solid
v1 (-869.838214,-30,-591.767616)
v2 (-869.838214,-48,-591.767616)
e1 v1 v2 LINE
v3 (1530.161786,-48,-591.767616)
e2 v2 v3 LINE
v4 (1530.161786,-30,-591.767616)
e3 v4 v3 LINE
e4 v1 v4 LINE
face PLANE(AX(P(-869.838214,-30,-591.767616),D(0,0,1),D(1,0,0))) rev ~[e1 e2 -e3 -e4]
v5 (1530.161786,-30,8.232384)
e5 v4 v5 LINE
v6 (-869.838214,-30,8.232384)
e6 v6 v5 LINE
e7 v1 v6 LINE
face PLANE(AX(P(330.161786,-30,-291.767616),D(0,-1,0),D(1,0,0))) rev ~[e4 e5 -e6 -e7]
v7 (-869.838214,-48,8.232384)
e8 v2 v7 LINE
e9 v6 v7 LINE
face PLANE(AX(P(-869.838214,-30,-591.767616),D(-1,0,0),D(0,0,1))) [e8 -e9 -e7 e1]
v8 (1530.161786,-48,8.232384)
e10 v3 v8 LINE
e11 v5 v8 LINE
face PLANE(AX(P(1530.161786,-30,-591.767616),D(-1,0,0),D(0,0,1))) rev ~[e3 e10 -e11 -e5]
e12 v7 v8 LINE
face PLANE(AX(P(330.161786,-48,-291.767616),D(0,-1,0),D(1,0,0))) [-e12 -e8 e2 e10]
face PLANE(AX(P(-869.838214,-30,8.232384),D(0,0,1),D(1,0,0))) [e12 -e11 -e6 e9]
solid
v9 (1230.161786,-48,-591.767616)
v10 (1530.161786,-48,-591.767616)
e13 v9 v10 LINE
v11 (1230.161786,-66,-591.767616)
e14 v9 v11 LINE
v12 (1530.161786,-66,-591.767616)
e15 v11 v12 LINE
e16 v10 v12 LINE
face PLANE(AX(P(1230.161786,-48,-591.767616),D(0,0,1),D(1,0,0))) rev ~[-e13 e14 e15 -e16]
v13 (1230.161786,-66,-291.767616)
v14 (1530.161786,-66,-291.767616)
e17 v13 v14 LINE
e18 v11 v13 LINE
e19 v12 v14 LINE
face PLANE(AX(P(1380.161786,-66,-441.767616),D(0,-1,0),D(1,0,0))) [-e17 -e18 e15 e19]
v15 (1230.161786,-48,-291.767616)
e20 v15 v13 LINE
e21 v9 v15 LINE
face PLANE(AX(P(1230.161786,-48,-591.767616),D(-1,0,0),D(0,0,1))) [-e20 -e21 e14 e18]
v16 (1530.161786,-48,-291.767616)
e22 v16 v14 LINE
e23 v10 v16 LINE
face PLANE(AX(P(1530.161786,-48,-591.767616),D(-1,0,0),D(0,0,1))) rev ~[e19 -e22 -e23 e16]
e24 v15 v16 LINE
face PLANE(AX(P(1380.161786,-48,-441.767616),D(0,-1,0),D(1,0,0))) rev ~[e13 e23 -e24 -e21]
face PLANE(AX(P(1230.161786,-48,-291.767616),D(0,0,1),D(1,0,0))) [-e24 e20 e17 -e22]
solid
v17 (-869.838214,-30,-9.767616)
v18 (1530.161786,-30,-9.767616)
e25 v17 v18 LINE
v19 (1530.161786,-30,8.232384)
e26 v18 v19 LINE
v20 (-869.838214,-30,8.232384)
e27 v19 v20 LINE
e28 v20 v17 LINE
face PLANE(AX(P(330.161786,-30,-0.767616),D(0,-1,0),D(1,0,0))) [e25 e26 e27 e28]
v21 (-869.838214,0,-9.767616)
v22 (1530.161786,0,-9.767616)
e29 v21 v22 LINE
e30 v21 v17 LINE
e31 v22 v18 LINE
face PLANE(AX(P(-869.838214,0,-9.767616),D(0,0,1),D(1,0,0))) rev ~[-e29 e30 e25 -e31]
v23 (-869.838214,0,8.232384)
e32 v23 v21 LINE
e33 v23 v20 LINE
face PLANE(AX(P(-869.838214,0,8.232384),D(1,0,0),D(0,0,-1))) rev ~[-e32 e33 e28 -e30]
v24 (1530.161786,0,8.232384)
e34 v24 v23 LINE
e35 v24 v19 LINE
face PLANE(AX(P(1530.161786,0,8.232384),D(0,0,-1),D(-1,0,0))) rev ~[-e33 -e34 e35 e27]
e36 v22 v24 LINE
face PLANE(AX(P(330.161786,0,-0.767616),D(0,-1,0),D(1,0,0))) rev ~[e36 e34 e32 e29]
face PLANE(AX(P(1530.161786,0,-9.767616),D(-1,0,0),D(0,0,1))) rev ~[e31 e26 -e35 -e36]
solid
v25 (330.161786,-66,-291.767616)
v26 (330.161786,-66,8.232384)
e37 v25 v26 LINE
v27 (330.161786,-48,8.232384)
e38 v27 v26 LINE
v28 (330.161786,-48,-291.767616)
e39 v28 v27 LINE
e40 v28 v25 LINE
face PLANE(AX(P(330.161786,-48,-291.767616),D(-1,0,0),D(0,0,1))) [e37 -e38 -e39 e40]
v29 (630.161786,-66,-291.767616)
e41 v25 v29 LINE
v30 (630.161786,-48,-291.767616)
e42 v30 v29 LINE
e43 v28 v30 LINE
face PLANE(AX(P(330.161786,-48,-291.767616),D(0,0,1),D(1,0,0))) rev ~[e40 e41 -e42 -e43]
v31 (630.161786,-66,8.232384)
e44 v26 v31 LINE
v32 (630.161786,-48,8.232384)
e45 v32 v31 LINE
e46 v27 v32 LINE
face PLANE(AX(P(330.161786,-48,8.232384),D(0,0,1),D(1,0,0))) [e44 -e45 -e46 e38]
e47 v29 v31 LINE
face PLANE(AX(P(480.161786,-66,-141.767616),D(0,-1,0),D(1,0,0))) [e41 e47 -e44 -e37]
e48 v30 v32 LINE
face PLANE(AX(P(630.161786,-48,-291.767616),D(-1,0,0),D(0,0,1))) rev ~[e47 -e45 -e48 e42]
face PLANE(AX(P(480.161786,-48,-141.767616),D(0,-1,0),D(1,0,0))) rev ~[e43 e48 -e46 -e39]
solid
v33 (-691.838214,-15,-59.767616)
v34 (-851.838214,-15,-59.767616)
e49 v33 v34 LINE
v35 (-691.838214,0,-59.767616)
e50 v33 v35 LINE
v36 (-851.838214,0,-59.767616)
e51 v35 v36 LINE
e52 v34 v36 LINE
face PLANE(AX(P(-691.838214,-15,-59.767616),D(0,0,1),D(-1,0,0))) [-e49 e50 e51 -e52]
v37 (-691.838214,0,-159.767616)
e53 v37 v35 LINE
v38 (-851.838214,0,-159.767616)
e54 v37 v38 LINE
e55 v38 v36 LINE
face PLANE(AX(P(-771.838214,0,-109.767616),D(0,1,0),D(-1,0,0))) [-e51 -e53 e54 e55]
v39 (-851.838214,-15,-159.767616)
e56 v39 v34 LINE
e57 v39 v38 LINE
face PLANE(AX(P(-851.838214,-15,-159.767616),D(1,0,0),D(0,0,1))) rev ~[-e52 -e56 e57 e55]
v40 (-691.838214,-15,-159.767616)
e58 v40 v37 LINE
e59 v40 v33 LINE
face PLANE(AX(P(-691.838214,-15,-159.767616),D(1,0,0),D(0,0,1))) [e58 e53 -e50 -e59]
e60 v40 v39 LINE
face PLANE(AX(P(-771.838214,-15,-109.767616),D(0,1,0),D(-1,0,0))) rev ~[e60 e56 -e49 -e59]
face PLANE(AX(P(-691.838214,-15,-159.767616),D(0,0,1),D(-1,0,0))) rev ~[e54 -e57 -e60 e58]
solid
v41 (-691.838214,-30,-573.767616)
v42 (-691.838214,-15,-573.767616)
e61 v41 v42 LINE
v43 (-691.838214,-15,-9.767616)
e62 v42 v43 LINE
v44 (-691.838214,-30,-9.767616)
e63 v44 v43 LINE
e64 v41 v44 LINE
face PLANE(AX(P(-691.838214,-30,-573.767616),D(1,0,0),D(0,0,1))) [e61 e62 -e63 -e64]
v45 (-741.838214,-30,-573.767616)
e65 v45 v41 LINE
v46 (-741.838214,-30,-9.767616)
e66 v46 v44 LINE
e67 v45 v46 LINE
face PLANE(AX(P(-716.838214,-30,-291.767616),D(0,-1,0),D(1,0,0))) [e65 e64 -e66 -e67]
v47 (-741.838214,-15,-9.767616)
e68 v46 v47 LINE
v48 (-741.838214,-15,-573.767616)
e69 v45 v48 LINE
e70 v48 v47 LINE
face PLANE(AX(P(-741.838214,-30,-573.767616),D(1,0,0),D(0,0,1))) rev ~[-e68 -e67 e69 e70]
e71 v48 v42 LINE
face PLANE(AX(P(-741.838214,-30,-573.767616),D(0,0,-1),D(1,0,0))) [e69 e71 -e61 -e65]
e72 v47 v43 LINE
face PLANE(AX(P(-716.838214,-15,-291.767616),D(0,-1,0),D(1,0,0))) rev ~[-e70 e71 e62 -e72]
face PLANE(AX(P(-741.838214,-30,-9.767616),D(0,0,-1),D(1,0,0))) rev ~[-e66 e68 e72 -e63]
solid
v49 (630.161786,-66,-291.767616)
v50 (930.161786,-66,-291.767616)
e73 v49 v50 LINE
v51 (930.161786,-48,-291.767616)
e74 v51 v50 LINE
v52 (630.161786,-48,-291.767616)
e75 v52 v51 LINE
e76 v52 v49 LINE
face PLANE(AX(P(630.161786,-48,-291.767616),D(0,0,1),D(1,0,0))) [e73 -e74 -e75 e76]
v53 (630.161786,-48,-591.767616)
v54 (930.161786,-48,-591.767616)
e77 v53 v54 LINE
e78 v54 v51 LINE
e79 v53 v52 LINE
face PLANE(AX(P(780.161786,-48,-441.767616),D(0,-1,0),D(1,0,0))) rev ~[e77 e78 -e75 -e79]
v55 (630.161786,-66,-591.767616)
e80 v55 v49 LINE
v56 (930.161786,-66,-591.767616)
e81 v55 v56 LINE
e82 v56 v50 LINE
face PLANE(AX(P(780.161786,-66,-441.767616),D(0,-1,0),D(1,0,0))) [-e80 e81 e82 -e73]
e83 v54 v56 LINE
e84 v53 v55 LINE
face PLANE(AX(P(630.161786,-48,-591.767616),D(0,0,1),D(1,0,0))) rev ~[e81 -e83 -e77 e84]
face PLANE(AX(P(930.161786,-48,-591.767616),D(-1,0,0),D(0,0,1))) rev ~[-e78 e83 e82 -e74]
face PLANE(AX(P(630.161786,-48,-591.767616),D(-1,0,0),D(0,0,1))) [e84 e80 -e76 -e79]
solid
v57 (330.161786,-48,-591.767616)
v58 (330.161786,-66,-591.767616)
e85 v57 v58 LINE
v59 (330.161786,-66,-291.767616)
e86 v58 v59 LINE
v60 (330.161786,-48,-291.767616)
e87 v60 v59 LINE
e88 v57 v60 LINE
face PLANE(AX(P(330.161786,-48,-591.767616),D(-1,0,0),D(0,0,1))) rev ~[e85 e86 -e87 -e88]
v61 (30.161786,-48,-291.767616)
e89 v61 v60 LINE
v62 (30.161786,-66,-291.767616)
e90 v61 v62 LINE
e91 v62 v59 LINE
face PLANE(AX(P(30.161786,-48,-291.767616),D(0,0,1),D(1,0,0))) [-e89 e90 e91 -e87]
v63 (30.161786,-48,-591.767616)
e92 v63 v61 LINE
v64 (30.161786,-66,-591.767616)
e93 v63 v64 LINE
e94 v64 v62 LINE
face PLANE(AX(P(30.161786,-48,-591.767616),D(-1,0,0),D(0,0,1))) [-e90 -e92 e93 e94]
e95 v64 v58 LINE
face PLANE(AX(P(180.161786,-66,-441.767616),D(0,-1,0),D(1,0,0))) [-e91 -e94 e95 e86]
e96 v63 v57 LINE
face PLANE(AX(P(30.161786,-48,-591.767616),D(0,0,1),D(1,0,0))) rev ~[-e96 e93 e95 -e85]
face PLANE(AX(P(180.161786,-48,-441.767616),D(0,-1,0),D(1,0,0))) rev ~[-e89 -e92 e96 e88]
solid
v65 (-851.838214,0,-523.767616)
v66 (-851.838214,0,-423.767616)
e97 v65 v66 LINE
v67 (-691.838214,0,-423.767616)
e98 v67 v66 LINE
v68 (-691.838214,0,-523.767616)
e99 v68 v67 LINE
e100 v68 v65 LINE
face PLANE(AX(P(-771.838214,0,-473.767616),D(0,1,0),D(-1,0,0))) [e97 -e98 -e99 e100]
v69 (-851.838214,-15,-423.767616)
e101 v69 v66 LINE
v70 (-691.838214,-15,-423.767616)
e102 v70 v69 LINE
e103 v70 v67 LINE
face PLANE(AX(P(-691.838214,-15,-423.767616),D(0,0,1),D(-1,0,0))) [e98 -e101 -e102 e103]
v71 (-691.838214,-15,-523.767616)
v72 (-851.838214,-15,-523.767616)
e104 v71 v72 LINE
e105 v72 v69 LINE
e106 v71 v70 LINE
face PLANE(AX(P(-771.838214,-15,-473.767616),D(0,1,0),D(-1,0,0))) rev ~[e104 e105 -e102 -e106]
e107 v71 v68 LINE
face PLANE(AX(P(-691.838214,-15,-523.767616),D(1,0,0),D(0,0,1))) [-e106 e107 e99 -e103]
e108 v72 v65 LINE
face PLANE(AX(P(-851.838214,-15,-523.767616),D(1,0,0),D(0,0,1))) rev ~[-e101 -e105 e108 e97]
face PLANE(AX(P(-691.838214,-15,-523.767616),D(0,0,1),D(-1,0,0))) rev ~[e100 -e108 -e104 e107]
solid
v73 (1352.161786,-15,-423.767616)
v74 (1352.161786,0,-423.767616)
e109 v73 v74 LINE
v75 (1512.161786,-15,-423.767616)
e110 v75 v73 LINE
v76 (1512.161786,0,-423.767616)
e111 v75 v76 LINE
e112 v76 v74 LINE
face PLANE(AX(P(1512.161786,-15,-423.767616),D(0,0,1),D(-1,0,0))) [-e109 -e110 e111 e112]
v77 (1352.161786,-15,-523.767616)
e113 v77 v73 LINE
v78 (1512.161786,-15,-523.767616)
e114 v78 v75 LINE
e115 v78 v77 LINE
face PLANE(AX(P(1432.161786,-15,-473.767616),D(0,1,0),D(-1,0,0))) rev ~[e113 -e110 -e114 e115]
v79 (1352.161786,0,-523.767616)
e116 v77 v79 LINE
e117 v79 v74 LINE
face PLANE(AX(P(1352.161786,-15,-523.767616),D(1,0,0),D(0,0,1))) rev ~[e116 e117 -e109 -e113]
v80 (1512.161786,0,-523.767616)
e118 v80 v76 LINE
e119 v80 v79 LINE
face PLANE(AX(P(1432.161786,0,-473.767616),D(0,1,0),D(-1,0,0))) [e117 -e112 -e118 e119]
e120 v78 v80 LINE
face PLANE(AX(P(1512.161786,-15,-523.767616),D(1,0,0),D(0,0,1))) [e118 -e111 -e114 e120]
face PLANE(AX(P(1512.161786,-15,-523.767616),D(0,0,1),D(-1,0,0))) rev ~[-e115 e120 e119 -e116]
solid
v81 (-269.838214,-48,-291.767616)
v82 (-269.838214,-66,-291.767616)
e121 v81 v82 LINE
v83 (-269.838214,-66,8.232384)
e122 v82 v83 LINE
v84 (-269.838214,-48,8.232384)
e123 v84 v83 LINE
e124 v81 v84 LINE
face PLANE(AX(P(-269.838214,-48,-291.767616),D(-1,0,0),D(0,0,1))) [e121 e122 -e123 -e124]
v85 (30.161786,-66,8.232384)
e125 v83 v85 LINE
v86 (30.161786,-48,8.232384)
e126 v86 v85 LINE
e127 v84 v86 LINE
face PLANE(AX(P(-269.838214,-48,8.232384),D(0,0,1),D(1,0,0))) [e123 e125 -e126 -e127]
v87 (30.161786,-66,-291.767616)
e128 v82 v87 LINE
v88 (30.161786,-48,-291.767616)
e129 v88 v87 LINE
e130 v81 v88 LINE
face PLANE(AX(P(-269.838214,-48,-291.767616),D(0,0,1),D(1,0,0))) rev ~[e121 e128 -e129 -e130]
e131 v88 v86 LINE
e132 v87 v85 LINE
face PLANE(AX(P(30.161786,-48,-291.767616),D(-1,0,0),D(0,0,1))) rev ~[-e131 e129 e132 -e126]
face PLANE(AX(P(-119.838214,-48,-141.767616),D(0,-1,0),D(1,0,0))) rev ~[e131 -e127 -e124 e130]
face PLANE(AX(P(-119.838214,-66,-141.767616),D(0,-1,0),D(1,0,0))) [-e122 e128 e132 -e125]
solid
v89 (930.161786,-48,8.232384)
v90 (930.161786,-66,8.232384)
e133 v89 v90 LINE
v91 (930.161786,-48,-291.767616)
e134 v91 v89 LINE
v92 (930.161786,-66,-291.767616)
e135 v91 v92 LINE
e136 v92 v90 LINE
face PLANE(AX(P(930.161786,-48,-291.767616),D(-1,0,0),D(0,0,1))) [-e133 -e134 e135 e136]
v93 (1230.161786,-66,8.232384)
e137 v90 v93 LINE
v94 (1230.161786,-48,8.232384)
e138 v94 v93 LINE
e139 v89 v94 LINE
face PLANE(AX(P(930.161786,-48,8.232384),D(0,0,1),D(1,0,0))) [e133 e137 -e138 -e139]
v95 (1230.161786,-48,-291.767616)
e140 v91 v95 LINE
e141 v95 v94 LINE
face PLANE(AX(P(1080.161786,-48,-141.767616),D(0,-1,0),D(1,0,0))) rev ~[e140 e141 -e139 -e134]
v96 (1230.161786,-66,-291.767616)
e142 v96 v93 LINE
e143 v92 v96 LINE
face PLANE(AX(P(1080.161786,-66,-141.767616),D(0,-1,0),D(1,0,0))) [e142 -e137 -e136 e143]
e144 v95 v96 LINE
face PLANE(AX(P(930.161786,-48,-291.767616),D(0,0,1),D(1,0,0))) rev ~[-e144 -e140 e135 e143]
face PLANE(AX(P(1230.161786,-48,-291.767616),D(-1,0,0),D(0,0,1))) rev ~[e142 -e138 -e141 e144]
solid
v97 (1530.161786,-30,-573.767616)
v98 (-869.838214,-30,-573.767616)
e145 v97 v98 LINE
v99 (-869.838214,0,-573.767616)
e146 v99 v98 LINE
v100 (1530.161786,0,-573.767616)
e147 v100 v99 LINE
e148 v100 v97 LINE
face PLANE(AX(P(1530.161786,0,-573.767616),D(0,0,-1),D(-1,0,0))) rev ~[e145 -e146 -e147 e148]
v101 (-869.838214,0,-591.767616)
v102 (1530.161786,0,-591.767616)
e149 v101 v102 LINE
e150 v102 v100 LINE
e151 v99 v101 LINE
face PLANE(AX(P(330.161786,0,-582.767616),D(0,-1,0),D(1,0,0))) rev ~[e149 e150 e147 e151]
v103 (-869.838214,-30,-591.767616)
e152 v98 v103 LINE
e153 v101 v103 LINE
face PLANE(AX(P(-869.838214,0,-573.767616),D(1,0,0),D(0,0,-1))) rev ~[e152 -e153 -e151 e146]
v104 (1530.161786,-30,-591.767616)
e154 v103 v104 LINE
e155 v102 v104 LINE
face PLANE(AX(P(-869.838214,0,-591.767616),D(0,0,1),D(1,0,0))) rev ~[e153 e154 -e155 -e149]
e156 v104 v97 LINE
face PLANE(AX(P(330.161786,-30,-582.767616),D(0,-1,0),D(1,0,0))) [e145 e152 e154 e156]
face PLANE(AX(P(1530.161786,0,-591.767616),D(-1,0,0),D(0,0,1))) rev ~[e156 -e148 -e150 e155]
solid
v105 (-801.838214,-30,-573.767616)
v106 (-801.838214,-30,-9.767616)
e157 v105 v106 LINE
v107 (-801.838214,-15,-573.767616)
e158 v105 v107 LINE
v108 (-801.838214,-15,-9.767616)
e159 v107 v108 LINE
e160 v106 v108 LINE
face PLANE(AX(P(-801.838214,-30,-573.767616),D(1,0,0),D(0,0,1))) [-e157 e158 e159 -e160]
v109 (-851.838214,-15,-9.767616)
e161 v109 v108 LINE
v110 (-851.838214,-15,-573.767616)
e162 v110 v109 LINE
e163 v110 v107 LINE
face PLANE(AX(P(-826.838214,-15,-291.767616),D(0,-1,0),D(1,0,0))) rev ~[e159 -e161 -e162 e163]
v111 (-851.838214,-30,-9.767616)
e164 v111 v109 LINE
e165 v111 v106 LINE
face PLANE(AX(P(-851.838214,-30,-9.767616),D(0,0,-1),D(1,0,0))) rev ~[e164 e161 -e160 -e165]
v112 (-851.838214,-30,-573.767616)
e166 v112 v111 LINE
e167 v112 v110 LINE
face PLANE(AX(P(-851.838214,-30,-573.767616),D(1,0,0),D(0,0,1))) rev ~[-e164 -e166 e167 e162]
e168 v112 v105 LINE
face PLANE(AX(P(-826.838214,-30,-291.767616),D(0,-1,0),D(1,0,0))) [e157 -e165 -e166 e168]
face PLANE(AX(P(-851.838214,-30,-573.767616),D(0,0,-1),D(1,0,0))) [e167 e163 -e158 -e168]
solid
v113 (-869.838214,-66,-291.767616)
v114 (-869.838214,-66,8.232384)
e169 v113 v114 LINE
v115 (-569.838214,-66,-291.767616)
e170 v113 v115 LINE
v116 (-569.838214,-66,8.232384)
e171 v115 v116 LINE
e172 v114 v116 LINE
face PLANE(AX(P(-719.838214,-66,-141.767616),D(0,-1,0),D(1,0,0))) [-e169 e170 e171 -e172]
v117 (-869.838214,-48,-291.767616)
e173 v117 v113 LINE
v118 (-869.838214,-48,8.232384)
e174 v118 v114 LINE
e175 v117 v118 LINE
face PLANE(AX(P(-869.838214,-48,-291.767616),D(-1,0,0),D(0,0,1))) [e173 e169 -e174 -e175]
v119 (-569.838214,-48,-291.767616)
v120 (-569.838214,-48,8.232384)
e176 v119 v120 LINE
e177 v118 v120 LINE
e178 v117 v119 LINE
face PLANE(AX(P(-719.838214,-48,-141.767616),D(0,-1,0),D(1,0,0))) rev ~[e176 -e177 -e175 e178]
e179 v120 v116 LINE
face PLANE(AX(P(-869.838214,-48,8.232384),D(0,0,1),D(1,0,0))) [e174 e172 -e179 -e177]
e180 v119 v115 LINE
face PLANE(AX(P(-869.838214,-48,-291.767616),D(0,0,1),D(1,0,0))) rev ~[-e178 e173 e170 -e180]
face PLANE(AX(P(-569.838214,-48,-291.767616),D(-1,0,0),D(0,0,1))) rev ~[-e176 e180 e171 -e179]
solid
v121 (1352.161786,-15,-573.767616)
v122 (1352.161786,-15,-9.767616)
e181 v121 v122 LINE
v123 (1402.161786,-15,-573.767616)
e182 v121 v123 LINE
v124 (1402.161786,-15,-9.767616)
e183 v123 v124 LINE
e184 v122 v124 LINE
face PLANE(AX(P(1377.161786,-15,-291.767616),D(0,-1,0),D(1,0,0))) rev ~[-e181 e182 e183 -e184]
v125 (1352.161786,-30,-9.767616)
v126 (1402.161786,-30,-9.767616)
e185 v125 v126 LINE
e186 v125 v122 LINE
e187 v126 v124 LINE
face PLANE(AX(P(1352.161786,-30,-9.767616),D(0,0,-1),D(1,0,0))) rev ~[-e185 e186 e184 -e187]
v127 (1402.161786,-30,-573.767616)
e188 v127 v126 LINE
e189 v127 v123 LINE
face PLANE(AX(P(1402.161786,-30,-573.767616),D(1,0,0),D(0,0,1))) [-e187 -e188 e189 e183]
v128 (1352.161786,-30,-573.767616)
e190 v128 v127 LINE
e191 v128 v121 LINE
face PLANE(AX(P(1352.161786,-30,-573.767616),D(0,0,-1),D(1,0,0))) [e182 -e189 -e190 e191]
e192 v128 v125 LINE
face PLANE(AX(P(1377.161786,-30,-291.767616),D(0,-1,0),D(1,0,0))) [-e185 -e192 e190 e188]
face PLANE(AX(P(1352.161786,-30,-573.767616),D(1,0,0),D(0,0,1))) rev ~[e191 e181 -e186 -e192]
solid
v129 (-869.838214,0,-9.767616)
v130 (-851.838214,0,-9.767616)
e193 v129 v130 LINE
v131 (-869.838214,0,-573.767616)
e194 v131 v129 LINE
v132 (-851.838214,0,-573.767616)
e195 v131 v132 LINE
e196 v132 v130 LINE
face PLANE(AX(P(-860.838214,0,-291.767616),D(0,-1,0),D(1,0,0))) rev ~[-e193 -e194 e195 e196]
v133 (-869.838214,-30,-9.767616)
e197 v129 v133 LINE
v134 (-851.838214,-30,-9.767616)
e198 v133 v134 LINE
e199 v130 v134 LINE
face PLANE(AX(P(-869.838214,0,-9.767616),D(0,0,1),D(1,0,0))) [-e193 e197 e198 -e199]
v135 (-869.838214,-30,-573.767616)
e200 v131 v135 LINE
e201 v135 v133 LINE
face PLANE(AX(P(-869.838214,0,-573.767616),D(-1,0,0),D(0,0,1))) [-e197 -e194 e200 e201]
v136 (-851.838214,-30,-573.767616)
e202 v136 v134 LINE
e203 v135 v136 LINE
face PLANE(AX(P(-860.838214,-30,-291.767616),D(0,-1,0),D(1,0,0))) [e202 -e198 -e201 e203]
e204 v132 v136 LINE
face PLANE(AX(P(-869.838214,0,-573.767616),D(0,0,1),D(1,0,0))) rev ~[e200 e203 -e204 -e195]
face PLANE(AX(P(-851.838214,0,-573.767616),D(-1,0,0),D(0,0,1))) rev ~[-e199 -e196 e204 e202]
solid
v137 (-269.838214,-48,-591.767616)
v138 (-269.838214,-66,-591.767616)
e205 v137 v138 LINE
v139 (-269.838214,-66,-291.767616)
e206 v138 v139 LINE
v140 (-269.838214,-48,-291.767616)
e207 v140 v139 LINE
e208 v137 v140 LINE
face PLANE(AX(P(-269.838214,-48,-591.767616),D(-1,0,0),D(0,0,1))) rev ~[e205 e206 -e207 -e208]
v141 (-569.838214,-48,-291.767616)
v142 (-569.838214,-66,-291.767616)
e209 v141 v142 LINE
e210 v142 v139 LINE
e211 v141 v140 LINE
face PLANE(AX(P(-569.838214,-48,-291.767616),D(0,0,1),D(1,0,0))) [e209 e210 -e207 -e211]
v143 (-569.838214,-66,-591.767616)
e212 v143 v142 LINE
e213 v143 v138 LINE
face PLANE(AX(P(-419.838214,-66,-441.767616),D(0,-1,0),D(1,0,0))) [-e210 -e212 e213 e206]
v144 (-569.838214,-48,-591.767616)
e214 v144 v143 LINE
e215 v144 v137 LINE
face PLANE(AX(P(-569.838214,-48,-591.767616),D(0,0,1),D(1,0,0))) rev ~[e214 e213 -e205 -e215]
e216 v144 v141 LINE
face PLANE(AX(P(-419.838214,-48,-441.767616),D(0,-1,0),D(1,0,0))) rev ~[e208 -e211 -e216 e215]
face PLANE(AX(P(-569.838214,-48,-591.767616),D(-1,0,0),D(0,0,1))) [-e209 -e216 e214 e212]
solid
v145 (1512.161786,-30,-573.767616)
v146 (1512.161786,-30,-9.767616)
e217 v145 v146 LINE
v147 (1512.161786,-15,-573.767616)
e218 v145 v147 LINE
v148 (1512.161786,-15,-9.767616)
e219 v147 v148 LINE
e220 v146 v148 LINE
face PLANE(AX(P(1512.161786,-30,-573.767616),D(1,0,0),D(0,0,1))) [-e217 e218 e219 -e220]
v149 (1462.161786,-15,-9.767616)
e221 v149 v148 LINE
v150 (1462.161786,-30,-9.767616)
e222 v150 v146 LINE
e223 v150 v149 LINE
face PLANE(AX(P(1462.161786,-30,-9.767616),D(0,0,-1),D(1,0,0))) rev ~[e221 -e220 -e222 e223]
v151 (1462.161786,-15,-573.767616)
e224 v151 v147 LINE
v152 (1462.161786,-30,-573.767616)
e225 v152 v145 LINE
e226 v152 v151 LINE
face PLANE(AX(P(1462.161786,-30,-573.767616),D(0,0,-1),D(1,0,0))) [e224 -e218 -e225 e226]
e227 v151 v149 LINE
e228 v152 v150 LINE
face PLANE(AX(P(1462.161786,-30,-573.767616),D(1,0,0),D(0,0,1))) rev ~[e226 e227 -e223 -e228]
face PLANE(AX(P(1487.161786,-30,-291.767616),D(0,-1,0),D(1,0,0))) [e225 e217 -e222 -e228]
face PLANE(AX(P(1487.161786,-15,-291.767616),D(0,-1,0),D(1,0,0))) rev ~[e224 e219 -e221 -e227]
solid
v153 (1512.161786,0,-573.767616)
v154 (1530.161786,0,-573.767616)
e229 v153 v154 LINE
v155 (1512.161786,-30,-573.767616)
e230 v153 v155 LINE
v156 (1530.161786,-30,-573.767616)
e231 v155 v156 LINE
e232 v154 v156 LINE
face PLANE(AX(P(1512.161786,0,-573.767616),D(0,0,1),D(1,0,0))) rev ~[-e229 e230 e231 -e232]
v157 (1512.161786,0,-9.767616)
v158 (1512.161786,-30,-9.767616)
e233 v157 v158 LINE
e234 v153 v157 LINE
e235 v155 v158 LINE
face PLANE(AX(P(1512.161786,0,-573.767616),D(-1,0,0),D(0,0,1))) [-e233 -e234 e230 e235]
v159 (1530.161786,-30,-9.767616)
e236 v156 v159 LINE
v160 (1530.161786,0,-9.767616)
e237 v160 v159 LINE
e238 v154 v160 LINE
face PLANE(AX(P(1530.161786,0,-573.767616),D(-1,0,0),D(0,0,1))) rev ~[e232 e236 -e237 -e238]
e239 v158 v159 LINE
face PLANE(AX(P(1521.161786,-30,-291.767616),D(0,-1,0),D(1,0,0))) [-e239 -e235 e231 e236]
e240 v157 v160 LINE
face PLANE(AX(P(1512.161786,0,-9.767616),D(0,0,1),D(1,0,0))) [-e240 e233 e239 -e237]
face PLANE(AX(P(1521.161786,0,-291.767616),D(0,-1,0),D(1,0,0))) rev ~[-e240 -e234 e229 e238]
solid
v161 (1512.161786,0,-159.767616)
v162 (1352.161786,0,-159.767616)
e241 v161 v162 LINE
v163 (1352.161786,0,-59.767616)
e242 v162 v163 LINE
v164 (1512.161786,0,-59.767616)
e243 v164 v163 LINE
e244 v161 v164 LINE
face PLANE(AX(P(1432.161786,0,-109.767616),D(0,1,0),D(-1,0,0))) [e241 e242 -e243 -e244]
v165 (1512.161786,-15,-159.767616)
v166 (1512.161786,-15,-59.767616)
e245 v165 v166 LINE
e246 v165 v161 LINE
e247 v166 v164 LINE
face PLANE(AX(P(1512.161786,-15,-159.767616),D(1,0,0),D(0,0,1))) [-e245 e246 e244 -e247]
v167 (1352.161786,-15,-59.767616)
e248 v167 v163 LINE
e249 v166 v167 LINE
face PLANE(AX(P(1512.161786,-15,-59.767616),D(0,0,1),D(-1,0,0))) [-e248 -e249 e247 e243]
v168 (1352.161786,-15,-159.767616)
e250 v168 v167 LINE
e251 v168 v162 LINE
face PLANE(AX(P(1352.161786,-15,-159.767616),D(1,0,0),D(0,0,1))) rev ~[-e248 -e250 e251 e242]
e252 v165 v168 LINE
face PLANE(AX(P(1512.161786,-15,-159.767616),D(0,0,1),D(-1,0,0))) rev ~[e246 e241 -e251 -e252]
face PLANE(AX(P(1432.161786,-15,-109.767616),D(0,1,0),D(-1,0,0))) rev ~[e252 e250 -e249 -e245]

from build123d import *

# Parameters (mm, degrees)
F0_W      = 18
F0_H      = 564
F1_DEPTH  = 30
F2_DEPTH  = 30
F3_DEPTH  = 30
F4_DEPTH  = 30
F5_W      = 2400
F5_H      = 600
F6_DEPTH  = 18
F7_W      = 300
F7_H      = 300
F8_DEPTH  = 18
F9_W      = 50
F9_H      = 564
F10_DEPTH = 15
F11_W     = 160
F11_H     = 100
F12_DEPTH = 15


with BuildPart() as f1:
    # F0 (on Front) → F1 (new body)
    with BuildSketch(Plane.XZ):
        with Locations((1521.161786, -291.767616)):
            Rectangle(F0_W, F0_H)
    extrude(amount=F1_DEPTH)


with BuildPart() as f2:
    # F0 (on Front) → F2 (new body)
    with BuildSketch(Plane.XZ):
        Polygon((1530.161786, 8.232384), (-869.838214, 8.232384), (-869.838214, -9.767616), (-851.838214, -9.767616), (1512.161786, -9.767616), (1530.161786, -9.767616), align=None)
    extrude(amount=F2_DEPTH)


with BuildPart() as f3:
    # F0 (on Front) → F3 (new body)
    with BuildSketch(Plane.XZ):
        with Locations((-860.838214, -291.767616)):
            Rectangle(F0_W, F0_H)
    extrude(amount=F3_DEPTH)


with BuildPart() as f4:
    # F0 (on Front) → F4 (new body)
    with BuildSketch(Plane.XZ):
        Polygon((-851.838214, -573.767616), (-869.838214, -573.767616), (-869.838214, -591.767616), (-50, -591.767616), (50, -591.767616), (1530.161786, -591.767616), (1530.161786, -573.767616), (1512.161786, -573.767616), (50, -573.767616), (-50, -573.767616), align=None)
    extrude(amount=F4_DEPTH)


with BuildPart() as f6:
    # F5 (on face) → F6 (new body)
    with BuildSketch(Plane.XZ.offset(30)):
        with Locations((330.161786, -291.767616)):
            Rectangle(F5_W, F5_H)
    extrude(amount=F6_DEPTH)


with BuildPart() as f8:
    # F7 (on face) → F8 (new body)
    with BuildSketch(Plane.XZ.offset(48)):
        with Locations((1380.161786, -441.767616)):
            Rectangle(F7_W, F7_H)
        with Locations((1080.161786, -141.767616)):
            Rectangle(F7_W, F7_H)
        with Locations((780.161786, -441.767616)):
            Rectangle(F7_W, F7_H)
        with Locations((480.161786, -141.767616)):
            Rectangle(F7_W, F7_H)
        with Locations((180.161786, -441.767616)):
            Rectangle(F7_W, F7_H)
        with Locations((-119.838214, -141.767616)):
            Rectangle(F7_W, F7_H)
        with Locations((-419.838214, -441.767616)):
            Rectangle(F7_W, F7_H)
        with Locations((-719.838214, -141.767616)):
            Rectangle(F7_W, F7_H)
    extrude(amount=F8_DEPTH)


with BuildPart() as f10:
    # F9 (on face) → F10 (new body)
    with BuildSketch(Plane.XZ.offset(30)):
        with Locations((1487.161786, -291.767616)):
            Rectangle(F9_W, F9_H)
        with Locations((-826.838214, -291.767616)):
            Rectangle(F9_W, F9_H)
        with Locations((1377.161786, -291.767616)):
            Rectangle(F9_W, F9_H)
        with Locations((-716.838214, -291.767616)):
            Rectangle(F9_W, F9_H)
    extrude(amount=-F10_DEPTH)


with BuildPart() as f12:
    # F11 (on face) → F12 (new body)
    with BuildSketch(Plane(origin=(0, -15, 0), x_dir=(-1, 0, 0), z_dir=(0, 1, 0))):
        with Locations((-1432.161786, -109.767616)):
            Rectangle(F11_W, F11_H)
        with Locations((771.838214, -109.767616)):
            Rectangle(F11_W, F11_H)
        with Locations((-1432.161786, -473.767616)):
            Rectangle(F11_W, F11_H)
        with Locations((771.838214, -473.767616)):
            Rectangle(F11_W, F11_H)
    extrude(amount=F12_DEPTH)


solid = Compound([f1.part, f2.part, f3.part, f4.part, f6.part, f8.part, f10.part, f12.part])
